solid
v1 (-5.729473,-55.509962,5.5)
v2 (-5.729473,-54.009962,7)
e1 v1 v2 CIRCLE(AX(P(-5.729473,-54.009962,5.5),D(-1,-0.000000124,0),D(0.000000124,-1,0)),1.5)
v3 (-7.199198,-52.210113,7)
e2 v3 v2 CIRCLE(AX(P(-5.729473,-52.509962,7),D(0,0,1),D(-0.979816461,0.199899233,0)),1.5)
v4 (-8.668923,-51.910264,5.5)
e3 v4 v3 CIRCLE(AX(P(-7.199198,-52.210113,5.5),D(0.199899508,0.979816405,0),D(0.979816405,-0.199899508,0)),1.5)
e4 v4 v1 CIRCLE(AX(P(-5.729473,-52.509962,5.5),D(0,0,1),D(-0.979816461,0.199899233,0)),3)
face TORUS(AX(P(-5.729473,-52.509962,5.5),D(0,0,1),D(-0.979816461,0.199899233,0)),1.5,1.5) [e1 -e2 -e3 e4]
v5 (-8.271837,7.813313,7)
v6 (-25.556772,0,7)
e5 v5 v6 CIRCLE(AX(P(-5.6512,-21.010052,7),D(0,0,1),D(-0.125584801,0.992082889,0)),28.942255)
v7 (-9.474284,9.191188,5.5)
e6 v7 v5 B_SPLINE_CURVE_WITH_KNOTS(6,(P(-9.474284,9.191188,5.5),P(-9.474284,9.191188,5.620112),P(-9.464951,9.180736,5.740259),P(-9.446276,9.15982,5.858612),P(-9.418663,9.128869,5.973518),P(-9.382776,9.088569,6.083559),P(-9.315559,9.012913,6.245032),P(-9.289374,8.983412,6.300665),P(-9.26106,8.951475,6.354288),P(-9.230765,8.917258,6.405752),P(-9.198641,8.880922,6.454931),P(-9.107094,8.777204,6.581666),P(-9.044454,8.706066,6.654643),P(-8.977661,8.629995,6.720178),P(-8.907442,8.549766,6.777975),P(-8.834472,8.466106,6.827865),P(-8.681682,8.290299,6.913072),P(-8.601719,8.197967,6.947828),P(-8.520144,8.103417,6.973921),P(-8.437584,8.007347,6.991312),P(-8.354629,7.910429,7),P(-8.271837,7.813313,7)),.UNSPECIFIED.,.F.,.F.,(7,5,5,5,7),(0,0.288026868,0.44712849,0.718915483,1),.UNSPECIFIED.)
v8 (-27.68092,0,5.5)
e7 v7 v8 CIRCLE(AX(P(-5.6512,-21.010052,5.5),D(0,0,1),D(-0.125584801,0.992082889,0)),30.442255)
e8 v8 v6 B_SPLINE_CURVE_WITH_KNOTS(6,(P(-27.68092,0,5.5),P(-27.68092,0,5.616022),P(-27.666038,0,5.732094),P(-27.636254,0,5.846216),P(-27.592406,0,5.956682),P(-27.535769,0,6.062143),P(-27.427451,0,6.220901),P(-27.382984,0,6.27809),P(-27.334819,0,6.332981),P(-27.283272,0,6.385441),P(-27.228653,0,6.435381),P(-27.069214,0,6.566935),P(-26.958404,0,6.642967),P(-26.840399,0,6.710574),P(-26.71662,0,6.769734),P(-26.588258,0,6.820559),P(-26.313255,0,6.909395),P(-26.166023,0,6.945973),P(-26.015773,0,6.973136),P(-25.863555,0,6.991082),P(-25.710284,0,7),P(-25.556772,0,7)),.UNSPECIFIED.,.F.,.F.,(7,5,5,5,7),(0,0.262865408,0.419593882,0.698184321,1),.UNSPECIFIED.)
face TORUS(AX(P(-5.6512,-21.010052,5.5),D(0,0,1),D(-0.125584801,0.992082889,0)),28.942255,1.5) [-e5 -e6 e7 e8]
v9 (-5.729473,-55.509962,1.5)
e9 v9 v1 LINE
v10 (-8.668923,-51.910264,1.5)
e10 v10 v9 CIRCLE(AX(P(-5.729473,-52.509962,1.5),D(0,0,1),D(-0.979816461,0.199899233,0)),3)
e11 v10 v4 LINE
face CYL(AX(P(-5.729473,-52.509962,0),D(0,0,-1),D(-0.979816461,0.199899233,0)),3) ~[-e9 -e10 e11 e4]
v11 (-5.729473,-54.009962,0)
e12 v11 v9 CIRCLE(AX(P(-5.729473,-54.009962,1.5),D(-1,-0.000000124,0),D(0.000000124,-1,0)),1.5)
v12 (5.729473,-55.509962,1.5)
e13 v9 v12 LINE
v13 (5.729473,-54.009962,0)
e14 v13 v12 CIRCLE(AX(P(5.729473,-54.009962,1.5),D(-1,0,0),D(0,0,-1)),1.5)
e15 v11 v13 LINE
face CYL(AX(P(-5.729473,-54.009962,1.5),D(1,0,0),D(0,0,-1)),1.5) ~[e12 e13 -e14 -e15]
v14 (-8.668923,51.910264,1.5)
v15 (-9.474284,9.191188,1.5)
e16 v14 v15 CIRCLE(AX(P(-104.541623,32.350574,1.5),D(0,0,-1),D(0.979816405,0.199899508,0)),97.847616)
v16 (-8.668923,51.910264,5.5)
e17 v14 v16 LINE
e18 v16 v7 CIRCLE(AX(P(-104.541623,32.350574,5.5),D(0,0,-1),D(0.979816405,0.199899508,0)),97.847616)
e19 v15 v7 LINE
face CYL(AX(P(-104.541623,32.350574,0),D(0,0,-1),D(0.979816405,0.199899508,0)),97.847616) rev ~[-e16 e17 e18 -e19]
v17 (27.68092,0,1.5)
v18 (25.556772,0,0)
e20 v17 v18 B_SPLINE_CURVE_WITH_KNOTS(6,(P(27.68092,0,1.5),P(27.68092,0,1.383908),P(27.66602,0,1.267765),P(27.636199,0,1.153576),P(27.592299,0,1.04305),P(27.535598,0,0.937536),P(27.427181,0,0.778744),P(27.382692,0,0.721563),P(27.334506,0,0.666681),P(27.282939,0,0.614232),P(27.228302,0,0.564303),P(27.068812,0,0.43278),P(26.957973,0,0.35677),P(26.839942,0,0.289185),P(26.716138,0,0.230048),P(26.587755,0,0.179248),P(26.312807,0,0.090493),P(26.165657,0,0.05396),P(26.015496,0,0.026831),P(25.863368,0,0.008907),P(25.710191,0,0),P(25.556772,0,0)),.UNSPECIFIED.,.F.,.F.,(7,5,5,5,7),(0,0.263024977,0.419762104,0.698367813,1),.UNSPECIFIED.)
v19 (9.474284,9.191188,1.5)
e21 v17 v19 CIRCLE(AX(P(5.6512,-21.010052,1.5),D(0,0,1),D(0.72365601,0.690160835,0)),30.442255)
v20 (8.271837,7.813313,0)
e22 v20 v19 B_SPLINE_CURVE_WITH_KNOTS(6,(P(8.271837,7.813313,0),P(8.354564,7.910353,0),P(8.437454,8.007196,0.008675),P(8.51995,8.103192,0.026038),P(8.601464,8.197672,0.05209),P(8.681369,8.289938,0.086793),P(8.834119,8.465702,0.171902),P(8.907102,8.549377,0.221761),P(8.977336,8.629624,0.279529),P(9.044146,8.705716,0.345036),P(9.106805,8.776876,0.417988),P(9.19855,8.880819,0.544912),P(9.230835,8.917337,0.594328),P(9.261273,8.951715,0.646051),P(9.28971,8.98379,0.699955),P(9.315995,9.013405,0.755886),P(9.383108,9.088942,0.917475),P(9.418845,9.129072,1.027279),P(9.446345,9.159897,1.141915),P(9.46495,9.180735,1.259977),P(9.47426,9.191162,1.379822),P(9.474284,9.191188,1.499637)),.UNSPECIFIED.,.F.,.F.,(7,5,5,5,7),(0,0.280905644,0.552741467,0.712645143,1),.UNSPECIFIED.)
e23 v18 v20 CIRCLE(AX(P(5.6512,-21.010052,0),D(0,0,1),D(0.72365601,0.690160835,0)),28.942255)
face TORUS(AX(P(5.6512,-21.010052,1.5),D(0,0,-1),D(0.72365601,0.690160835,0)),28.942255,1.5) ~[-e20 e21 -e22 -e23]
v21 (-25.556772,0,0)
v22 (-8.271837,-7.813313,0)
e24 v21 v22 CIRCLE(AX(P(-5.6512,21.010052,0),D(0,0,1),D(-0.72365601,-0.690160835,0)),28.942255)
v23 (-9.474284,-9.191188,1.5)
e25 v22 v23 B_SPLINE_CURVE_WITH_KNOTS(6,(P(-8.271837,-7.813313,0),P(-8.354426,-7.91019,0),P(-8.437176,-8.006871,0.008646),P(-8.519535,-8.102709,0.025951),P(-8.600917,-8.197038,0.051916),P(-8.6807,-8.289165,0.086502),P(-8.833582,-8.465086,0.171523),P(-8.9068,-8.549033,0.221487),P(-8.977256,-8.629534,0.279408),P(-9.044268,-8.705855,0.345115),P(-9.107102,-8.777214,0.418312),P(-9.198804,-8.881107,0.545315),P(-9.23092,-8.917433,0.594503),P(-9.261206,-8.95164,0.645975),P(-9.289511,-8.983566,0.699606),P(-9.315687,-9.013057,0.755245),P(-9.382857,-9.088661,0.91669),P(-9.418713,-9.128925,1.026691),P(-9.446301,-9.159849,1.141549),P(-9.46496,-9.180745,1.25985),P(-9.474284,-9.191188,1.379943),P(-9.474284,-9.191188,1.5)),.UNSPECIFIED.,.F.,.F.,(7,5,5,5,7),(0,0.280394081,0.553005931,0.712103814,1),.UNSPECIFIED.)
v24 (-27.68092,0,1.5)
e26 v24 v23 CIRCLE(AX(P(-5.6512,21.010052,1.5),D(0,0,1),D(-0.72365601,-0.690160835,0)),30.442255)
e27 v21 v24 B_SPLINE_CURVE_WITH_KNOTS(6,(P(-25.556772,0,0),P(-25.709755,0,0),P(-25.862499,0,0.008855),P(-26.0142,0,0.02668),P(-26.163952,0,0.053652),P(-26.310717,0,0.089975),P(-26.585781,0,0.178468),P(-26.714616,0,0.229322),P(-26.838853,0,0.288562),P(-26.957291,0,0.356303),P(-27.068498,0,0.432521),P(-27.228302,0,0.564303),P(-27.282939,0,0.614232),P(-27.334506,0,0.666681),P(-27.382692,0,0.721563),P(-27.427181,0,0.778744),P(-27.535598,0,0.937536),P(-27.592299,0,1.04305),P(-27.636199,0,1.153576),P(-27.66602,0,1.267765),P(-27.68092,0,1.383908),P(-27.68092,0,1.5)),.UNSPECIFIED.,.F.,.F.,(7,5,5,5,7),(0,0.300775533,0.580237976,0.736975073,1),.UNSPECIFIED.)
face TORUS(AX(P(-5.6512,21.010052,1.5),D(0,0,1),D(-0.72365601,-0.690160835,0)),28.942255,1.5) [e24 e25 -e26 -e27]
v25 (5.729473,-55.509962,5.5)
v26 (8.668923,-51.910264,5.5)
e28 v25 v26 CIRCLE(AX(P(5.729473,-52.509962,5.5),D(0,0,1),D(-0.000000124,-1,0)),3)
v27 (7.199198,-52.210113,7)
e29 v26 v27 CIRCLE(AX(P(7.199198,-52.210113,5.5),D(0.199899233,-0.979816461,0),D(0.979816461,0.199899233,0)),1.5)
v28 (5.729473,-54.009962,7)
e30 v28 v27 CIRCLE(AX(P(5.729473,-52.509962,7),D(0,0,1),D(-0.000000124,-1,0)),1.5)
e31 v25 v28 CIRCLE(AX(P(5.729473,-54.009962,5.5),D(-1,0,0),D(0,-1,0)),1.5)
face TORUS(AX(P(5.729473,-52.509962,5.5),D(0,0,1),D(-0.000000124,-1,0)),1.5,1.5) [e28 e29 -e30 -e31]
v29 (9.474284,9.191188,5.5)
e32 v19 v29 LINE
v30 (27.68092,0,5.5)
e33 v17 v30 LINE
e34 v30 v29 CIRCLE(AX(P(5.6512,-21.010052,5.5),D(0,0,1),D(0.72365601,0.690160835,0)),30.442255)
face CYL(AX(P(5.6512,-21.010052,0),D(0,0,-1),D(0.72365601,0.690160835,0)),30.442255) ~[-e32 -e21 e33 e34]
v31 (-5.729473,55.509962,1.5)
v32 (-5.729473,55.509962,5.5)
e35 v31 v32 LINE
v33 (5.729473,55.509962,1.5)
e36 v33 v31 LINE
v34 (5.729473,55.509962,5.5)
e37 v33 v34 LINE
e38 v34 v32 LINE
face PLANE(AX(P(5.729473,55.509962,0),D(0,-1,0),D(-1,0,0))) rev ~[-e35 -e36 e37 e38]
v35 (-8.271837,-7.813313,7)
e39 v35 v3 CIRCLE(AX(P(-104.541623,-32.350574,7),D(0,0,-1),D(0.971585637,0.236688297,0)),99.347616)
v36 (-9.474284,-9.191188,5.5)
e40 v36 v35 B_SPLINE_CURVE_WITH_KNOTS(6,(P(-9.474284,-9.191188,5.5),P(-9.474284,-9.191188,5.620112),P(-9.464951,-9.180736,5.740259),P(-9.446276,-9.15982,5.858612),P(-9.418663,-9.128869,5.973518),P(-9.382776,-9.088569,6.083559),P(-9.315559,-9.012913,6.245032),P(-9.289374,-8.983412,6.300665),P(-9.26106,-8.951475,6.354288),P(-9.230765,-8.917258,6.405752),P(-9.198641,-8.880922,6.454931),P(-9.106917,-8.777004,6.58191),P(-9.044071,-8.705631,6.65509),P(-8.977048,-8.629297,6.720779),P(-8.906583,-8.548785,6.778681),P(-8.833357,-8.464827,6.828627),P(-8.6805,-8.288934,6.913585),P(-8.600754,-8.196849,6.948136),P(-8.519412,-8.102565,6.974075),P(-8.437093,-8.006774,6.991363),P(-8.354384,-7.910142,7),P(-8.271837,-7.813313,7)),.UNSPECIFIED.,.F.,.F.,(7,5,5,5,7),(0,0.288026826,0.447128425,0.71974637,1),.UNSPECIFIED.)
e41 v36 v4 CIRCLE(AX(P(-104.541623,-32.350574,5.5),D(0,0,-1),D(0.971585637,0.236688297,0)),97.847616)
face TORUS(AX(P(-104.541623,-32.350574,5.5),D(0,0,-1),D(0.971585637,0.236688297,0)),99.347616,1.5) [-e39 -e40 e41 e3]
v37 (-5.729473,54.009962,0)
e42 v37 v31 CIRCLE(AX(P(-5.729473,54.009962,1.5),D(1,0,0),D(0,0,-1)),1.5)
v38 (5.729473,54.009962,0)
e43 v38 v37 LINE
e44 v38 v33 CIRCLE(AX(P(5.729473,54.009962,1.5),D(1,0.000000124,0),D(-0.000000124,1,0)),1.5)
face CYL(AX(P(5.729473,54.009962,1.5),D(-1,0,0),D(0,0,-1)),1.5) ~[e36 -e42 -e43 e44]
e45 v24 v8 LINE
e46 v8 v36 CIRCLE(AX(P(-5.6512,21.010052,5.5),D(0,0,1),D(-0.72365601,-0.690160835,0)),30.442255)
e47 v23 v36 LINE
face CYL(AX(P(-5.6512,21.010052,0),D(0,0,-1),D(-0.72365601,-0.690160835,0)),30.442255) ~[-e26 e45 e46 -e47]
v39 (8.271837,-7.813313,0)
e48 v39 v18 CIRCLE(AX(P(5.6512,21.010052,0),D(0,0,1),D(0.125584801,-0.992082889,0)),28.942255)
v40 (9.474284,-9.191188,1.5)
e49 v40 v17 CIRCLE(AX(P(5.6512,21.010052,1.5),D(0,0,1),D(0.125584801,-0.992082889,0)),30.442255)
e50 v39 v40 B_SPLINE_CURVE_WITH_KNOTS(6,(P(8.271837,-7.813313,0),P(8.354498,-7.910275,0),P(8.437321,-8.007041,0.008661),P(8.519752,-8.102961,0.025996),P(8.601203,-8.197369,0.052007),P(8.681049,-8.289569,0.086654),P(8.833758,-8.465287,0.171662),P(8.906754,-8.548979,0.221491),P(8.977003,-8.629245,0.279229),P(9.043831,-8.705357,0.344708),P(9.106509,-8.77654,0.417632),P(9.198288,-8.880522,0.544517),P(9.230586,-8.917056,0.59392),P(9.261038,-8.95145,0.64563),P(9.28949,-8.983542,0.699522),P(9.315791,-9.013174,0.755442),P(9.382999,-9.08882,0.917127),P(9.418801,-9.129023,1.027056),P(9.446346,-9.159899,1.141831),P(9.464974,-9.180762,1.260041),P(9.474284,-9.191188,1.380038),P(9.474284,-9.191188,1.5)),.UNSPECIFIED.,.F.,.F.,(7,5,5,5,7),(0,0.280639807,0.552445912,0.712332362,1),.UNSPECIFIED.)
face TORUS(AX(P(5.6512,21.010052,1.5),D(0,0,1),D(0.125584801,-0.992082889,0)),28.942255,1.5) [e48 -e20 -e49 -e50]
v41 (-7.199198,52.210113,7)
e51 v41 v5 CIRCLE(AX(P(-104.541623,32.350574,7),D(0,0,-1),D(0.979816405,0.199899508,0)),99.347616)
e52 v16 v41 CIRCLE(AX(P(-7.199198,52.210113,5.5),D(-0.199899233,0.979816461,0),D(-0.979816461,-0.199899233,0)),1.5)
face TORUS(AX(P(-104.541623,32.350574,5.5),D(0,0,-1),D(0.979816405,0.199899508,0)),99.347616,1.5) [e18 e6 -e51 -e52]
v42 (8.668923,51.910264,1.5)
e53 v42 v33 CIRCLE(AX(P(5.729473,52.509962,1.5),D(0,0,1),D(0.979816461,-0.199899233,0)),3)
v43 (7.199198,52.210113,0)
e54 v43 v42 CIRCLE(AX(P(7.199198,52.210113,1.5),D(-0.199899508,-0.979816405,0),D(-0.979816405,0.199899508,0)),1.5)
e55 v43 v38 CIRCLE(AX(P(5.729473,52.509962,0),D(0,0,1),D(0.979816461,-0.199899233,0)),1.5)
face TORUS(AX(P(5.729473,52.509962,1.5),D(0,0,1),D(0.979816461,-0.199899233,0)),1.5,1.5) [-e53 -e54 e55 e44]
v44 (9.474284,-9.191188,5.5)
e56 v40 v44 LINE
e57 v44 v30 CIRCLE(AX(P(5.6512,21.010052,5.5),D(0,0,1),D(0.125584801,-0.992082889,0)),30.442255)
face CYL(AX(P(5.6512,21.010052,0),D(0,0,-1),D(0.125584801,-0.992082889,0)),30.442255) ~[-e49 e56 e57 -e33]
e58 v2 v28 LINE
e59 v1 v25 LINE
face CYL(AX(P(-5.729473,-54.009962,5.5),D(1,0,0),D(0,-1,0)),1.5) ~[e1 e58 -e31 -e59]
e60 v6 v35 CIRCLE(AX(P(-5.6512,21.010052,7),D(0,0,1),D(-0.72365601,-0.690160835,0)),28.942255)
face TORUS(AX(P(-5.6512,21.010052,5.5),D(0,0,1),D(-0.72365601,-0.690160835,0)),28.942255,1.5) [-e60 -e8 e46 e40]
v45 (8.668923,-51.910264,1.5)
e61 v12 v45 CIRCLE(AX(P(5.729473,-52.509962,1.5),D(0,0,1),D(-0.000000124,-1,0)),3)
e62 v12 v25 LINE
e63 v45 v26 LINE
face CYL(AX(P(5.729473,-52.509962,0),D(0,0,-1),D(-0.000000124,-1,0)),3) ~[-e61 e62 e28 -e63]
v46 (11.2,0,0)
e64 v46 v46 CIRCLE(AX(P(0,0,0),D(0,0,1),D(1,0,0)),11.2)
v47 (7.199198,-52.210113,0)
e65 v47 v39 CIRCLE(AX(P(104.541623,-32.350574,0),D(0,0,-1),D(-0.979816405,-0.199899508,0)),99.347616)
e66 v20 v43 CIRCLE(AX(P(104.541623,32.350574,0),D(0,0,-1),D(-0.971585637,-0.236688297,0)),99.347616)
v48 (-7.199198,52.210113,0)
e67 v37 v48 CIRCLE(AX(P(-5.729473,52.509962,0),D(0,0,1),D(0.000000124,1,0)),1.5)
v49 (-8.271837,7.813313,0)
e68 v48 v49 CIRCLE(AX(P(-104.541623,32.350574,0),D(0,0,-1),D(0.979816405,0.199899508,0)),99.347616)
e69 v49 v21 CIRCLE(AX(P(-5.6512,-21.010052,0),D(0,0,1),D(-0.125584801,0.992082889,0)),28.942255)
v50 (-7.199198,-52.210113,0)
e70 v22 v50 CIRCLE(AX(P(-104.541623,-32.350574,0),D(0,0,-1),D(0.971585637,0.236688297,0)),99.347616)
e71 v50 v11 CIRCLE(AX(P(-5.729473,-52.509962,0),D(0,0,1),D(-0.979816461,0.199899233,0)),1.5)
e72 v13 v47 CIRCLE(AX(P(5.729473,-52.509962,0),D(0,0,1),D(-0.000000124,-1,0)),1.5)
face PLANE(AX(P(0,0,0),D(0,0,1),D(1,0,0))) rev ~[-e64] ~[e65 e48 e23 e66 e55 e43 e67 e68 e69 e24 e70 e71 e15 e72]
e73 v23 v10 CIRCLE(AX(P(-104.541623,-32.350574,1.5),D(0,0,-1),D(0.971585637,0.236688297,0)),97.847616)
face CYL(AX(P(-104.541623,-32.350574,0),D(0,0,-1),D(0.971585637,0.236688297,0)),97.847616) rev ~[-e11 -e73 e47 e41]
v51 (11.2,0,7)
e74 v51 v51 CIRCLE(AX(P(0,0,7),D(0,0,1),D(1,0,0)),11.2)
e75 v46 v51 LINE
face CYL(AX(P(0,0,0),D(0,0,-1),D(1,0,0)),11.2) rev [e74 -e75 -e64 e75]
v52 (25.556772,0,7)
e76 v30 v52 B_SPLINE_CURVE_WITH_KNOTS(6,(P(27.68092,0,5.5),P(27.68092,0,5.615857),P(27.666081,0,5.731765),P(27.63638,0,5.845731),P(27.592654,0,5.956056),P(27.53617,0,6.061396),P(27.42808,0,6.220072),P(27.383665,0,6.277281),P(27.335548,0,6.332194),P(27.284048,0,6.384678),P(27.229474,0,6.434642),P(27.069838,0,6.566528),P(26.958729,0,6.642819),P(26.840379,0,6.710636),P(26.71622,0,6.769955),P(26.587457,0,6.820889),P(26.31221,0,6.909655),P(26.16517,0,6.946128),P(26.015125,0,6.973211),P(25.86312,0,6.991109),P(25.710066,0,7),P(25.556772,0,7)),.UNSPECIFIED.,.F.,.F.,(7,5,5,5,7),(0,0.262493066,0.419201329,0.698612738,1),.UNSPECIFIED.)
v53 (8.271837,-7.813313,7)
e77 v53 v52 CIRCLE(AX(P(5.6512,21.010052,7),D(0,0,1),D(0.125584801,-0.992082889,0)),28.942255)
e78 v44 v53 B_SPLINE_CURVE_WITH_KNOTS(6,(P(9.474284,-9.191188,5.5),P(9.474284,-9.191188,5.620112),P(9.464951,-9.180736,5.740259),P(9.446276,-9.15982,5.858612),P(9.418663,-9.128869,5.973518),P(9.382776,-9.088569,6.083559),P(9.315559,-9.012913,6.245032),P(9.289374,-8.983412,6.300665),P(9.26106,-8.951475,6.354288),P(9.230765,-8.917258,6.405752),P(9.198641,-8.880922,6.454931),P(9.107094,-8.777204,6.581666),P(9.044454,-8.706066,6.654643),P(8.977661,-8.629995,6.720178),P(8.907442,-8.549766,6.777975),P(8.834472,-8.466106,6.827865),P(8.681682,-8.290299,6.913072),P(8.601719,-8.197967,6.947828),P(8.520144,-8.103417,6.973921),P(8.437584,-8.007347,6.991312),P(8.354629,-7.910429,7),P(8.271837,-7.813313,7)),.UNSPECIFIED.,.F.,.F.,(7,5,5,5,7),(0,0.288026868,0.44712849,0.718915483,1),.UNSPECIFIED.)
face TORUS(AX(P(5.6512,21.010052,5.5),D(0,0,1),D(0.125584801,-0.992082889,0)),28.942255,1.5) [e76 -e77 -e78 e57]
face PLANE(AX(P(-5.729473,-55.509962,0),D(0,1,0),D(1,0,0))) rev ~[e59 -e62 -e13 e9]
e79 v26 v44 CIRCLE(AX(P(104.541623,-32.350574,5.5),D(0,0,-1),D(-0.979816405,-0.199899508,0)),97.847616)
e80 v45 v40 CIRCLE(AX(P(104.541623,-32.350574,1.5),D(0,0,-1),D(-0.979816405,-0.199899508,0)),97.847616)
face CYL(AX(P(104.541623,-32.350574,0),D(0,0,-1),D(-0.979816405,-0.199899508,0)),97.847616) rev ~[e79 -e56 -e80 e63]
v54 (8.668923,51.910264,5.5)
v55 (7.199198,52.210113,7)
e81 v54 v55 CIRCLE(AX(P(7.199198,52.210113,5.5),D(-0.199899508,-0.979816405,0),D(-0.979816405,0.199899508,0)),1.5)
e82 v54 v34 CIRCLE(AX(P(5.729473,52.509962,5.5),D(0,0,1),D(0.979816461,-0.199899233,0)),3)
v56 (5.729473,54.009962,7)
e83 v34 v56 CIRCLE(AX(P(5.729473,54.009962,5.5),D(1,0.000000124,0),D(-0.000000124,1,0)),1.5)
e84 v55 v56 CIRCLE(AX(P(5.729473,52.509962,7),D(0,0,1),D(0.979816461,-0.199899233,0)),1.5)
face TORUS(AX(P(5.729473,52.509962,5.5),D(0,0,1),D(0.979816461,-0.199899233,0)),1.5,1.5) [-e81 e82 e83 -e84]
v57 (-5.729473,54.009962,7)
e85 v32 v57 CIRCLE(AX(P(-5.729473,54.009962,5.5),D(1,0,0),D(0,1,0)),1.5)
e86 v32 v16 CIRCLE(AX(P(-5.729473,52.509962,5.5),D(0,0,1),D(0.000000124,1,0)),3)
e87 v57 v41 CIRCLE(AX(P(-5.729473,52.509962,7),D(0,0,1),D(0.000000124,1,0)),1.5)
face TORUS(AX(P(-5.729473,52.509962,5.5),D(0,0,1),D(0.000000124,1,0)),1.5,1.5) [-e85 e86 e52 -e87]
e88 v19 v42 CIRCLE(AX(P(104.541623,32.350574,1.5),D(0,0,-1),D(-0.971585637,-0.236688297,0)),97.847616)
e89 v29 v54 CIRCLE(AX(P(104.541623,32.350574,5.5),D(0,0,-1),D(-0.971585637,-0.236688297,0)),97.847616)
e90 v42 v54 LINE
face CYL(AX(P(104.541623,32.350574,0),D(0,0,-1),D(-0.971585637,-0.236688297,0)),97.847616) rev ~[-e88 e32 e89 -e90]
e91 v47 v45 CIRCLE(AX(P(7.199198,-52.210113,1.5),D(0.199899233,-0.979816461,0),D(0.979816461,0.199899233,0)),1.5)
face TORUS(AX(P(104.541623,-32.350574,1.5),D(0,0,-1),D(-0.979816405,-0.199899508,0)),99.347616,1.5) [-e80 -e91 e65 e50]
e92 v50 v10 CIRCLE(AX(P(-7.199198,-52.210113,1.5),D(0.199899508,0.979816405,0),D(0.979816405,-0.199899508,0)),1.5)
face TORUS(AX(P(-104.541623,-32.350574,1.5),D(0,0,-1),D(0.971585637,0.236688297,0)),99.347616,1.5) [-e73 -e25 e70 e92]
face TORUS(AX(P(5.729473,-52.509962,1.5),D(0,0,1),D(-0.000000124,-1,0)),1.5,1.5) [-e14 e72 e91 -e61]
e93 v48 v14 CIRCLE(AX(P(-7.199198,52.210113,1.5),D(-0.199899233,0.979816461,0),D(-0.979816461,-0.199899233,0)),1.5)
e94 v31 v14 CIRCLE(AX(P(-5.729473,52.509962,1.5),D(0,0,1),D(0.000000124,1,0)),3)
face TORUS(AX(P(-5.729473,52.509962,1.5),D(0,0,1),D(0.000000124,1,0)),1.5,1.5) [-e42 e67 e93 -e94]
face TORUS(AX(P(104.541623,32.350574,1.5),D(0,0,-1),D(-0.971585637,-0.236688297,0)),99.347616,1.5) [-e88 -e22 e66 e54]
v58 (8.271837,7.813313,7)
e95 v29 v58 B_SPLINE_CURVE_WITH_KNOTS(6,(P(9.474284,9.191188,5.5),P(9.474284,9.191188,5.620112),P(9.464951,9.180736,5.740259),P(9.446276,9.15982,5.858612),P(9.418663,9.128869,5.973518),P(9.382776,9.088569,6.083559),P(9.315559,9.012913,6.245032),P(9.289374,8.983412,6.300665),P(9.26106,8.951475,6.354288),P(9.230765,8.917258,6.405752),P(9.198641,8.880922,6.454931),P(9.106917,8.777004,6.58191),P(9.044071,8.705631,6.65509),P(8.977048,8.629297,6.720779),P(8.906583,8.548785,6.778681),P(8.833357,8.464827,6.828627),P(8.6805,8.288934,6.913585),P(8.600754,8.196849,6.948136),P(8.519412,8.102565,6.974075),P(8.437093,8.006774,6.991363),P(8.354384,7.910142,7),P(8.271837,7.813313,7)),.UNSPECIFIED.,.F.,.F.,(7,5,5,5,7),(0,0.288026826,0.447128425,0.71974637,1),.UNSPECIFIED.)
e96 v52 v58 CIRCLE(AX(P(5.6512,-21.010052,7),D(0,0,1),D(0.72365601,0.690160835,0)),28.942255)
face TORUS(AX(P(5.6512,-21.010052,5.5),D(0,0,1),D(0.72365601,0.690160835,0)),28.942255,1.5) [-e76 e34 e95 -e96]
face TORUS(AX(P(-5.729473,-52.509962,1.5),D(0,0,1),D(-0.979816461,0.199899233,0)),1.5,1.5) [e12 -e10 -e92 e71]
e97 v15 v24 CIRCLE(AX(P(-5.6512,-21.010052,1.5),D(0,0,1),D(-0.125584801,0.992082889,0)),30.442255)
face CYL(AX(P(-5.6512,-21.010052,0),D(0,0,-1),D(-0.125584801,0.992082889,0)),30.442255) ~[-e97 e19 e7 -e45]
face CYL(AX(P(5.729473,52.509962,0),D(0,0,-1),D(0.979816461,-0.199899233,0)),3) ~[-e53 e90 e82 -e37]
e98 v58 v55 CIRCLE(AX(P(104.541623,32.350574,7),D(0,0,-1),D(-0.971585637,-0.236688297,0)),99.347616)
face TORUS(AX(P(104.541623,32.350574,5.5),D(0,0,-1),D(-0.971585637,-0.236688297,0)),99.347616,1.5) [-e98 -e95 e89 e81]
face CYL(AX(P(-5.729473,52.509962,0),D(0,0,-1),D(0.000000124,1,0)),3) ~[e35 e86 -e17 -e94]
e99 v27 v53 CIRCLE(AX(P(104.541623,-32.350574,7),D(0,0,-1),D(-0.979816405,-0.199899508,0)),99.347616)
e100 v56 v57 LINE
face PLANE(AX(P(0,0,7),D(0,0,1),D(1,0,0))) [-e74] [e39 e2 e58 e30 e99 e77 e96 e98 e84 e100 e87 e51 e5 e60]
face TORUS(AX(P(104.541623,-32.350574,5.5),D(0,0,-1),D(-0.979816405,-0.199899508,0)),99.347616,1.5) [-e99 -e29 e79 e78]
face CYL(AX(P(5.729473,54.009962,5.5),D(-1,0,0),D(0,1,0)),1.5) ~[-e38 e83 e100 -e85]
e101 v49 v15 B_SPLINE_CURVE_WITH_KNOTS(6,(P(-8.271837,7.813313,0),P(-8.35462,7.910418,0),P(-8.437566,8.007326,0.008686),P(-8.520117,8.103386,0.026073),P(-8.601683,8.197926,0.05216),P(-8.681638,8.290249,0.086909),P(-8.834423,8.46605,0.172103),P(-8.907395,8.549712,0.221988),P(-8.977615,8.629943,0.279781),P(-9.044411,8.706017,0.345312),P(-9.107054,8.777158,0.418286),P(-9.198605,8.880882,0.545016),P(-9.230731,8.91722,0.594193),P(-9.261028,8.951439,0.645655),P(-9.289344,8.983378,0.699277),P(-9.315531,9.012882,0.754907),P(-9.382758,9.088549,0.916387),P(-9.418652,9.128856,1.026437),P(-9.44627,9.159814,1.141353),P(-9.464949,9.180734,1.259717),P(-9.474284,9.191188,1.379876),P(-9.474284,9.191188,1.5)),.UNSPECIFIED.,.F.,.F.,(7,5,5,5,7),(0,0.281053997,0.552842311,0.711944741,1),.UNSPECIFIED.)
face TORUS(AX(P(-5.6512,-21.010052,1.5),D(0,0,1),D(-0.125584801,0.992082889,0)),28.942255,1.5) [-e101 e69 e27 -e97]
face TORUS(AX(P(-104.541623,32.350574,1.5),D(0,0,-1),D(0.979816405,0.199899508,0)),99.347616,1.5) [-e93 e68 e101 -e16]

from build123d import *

# Parameters (mm, degrees)
F0_R     = 11.2
F1_DEPTH = 7
F2_R     = 1.5
F3_R     = 1.5


with BuildPart() as f1:
    # F0 (on Top) → F1 (new body)
    with BuildSketch(Plane.XY):
        with BuildLine():
            ThreePointArc((9.474284, 9.191188), (6.71139, 30.50623), (8.668923, 51.910264))
            ThreePointArc((8.668923, 51.910264), (8.053166, 54.407448), (5.729473, 55.509962))
            Line((5.729473, 55.509962), (-5.729473, 55.509962))
            ThreePointArc((-5.729473, 55.509962), (-8.053166, 54.407448), (-8.668923, 51.910264))
            ThreePointArc((-8.668923, 51.910264), (-6.71139, 30.50623), (-9.474284, 9.191188))
            ThreePointArc((-9.474284, 9.191188), (-19.370215, 6.165663), (-27.68092, 0))
            ThreePointArc((-27.68092, 0), (-19.370215, -6.165663), (-9.474284, -9.191188))
            ThreePointArc((-9.474284, -9.191188), (-6.71139, -30.50623), (-8.668923, -51.910264))
            ThreePointArc((-8.668923, -51.910264), (-8.053166, -54.407448), (-5.729473, -55.509962))
            Line((-5.729473, -55.509962), (5.729473, -55.509962))
            ThreePointArc((5.729473, -55.509962), (8.053166, -54.407448), (8.668923, -51.910264))
            ThreePointArc((8.668923, -51.910264), (6.71139, -30.50623), (9.474284, -9.191188))
            ThreePointArc((9.474284, -9.191188), (19.370215, -6.165663), (27.68092, 0))
            ThreePointArc((27.68092, 0), (19.370215, 6.165663), (9.474284, 9.191188))
        make_face()
        Circle(F0_R, mode=Mode.SUBTRACT)
    extrude(amount=F1_DEPTH)

    # F2
    f2_edges = [f1.edges().sort_by_distance(p)[0] for p in [
        (6.71139, -30.50623, 7),
        (-6.71139, -30.50623, 7),
        (-6.71139, 30.50623, 7),
        (0, 55.509962, 7),
        (6.71139, 30.50623, 7),
        (19.370215, 6.165663, 7),
        (19.370215, -6.165663, 7),
        (-19.370215, 6.165663, 7),
        (-19.370215, -6.165663, 7),
        (0, -55.509962, 7),
    ]]
    fillet(f2_edges, radius=F2_R)

    # F3
    f3_edges = [f1.edges().sort_by_distance(p)[0] for p in [
        (0, -55.509962, 0),
        (8.053166, -54.407448, 0),
        (-19.370215, -6.165663, 0),
        (-19.370215, 6.165663, 0),
        (-6.71139, 30.50623, 0),
        (6.71139, 30.50623, 0),
        (19.370215, 6.165663, 0),
        (19.370215, -6.165663, 0),
    ]]
    fillet(f3_edges, radius=F3_R)


solid = f1.part
